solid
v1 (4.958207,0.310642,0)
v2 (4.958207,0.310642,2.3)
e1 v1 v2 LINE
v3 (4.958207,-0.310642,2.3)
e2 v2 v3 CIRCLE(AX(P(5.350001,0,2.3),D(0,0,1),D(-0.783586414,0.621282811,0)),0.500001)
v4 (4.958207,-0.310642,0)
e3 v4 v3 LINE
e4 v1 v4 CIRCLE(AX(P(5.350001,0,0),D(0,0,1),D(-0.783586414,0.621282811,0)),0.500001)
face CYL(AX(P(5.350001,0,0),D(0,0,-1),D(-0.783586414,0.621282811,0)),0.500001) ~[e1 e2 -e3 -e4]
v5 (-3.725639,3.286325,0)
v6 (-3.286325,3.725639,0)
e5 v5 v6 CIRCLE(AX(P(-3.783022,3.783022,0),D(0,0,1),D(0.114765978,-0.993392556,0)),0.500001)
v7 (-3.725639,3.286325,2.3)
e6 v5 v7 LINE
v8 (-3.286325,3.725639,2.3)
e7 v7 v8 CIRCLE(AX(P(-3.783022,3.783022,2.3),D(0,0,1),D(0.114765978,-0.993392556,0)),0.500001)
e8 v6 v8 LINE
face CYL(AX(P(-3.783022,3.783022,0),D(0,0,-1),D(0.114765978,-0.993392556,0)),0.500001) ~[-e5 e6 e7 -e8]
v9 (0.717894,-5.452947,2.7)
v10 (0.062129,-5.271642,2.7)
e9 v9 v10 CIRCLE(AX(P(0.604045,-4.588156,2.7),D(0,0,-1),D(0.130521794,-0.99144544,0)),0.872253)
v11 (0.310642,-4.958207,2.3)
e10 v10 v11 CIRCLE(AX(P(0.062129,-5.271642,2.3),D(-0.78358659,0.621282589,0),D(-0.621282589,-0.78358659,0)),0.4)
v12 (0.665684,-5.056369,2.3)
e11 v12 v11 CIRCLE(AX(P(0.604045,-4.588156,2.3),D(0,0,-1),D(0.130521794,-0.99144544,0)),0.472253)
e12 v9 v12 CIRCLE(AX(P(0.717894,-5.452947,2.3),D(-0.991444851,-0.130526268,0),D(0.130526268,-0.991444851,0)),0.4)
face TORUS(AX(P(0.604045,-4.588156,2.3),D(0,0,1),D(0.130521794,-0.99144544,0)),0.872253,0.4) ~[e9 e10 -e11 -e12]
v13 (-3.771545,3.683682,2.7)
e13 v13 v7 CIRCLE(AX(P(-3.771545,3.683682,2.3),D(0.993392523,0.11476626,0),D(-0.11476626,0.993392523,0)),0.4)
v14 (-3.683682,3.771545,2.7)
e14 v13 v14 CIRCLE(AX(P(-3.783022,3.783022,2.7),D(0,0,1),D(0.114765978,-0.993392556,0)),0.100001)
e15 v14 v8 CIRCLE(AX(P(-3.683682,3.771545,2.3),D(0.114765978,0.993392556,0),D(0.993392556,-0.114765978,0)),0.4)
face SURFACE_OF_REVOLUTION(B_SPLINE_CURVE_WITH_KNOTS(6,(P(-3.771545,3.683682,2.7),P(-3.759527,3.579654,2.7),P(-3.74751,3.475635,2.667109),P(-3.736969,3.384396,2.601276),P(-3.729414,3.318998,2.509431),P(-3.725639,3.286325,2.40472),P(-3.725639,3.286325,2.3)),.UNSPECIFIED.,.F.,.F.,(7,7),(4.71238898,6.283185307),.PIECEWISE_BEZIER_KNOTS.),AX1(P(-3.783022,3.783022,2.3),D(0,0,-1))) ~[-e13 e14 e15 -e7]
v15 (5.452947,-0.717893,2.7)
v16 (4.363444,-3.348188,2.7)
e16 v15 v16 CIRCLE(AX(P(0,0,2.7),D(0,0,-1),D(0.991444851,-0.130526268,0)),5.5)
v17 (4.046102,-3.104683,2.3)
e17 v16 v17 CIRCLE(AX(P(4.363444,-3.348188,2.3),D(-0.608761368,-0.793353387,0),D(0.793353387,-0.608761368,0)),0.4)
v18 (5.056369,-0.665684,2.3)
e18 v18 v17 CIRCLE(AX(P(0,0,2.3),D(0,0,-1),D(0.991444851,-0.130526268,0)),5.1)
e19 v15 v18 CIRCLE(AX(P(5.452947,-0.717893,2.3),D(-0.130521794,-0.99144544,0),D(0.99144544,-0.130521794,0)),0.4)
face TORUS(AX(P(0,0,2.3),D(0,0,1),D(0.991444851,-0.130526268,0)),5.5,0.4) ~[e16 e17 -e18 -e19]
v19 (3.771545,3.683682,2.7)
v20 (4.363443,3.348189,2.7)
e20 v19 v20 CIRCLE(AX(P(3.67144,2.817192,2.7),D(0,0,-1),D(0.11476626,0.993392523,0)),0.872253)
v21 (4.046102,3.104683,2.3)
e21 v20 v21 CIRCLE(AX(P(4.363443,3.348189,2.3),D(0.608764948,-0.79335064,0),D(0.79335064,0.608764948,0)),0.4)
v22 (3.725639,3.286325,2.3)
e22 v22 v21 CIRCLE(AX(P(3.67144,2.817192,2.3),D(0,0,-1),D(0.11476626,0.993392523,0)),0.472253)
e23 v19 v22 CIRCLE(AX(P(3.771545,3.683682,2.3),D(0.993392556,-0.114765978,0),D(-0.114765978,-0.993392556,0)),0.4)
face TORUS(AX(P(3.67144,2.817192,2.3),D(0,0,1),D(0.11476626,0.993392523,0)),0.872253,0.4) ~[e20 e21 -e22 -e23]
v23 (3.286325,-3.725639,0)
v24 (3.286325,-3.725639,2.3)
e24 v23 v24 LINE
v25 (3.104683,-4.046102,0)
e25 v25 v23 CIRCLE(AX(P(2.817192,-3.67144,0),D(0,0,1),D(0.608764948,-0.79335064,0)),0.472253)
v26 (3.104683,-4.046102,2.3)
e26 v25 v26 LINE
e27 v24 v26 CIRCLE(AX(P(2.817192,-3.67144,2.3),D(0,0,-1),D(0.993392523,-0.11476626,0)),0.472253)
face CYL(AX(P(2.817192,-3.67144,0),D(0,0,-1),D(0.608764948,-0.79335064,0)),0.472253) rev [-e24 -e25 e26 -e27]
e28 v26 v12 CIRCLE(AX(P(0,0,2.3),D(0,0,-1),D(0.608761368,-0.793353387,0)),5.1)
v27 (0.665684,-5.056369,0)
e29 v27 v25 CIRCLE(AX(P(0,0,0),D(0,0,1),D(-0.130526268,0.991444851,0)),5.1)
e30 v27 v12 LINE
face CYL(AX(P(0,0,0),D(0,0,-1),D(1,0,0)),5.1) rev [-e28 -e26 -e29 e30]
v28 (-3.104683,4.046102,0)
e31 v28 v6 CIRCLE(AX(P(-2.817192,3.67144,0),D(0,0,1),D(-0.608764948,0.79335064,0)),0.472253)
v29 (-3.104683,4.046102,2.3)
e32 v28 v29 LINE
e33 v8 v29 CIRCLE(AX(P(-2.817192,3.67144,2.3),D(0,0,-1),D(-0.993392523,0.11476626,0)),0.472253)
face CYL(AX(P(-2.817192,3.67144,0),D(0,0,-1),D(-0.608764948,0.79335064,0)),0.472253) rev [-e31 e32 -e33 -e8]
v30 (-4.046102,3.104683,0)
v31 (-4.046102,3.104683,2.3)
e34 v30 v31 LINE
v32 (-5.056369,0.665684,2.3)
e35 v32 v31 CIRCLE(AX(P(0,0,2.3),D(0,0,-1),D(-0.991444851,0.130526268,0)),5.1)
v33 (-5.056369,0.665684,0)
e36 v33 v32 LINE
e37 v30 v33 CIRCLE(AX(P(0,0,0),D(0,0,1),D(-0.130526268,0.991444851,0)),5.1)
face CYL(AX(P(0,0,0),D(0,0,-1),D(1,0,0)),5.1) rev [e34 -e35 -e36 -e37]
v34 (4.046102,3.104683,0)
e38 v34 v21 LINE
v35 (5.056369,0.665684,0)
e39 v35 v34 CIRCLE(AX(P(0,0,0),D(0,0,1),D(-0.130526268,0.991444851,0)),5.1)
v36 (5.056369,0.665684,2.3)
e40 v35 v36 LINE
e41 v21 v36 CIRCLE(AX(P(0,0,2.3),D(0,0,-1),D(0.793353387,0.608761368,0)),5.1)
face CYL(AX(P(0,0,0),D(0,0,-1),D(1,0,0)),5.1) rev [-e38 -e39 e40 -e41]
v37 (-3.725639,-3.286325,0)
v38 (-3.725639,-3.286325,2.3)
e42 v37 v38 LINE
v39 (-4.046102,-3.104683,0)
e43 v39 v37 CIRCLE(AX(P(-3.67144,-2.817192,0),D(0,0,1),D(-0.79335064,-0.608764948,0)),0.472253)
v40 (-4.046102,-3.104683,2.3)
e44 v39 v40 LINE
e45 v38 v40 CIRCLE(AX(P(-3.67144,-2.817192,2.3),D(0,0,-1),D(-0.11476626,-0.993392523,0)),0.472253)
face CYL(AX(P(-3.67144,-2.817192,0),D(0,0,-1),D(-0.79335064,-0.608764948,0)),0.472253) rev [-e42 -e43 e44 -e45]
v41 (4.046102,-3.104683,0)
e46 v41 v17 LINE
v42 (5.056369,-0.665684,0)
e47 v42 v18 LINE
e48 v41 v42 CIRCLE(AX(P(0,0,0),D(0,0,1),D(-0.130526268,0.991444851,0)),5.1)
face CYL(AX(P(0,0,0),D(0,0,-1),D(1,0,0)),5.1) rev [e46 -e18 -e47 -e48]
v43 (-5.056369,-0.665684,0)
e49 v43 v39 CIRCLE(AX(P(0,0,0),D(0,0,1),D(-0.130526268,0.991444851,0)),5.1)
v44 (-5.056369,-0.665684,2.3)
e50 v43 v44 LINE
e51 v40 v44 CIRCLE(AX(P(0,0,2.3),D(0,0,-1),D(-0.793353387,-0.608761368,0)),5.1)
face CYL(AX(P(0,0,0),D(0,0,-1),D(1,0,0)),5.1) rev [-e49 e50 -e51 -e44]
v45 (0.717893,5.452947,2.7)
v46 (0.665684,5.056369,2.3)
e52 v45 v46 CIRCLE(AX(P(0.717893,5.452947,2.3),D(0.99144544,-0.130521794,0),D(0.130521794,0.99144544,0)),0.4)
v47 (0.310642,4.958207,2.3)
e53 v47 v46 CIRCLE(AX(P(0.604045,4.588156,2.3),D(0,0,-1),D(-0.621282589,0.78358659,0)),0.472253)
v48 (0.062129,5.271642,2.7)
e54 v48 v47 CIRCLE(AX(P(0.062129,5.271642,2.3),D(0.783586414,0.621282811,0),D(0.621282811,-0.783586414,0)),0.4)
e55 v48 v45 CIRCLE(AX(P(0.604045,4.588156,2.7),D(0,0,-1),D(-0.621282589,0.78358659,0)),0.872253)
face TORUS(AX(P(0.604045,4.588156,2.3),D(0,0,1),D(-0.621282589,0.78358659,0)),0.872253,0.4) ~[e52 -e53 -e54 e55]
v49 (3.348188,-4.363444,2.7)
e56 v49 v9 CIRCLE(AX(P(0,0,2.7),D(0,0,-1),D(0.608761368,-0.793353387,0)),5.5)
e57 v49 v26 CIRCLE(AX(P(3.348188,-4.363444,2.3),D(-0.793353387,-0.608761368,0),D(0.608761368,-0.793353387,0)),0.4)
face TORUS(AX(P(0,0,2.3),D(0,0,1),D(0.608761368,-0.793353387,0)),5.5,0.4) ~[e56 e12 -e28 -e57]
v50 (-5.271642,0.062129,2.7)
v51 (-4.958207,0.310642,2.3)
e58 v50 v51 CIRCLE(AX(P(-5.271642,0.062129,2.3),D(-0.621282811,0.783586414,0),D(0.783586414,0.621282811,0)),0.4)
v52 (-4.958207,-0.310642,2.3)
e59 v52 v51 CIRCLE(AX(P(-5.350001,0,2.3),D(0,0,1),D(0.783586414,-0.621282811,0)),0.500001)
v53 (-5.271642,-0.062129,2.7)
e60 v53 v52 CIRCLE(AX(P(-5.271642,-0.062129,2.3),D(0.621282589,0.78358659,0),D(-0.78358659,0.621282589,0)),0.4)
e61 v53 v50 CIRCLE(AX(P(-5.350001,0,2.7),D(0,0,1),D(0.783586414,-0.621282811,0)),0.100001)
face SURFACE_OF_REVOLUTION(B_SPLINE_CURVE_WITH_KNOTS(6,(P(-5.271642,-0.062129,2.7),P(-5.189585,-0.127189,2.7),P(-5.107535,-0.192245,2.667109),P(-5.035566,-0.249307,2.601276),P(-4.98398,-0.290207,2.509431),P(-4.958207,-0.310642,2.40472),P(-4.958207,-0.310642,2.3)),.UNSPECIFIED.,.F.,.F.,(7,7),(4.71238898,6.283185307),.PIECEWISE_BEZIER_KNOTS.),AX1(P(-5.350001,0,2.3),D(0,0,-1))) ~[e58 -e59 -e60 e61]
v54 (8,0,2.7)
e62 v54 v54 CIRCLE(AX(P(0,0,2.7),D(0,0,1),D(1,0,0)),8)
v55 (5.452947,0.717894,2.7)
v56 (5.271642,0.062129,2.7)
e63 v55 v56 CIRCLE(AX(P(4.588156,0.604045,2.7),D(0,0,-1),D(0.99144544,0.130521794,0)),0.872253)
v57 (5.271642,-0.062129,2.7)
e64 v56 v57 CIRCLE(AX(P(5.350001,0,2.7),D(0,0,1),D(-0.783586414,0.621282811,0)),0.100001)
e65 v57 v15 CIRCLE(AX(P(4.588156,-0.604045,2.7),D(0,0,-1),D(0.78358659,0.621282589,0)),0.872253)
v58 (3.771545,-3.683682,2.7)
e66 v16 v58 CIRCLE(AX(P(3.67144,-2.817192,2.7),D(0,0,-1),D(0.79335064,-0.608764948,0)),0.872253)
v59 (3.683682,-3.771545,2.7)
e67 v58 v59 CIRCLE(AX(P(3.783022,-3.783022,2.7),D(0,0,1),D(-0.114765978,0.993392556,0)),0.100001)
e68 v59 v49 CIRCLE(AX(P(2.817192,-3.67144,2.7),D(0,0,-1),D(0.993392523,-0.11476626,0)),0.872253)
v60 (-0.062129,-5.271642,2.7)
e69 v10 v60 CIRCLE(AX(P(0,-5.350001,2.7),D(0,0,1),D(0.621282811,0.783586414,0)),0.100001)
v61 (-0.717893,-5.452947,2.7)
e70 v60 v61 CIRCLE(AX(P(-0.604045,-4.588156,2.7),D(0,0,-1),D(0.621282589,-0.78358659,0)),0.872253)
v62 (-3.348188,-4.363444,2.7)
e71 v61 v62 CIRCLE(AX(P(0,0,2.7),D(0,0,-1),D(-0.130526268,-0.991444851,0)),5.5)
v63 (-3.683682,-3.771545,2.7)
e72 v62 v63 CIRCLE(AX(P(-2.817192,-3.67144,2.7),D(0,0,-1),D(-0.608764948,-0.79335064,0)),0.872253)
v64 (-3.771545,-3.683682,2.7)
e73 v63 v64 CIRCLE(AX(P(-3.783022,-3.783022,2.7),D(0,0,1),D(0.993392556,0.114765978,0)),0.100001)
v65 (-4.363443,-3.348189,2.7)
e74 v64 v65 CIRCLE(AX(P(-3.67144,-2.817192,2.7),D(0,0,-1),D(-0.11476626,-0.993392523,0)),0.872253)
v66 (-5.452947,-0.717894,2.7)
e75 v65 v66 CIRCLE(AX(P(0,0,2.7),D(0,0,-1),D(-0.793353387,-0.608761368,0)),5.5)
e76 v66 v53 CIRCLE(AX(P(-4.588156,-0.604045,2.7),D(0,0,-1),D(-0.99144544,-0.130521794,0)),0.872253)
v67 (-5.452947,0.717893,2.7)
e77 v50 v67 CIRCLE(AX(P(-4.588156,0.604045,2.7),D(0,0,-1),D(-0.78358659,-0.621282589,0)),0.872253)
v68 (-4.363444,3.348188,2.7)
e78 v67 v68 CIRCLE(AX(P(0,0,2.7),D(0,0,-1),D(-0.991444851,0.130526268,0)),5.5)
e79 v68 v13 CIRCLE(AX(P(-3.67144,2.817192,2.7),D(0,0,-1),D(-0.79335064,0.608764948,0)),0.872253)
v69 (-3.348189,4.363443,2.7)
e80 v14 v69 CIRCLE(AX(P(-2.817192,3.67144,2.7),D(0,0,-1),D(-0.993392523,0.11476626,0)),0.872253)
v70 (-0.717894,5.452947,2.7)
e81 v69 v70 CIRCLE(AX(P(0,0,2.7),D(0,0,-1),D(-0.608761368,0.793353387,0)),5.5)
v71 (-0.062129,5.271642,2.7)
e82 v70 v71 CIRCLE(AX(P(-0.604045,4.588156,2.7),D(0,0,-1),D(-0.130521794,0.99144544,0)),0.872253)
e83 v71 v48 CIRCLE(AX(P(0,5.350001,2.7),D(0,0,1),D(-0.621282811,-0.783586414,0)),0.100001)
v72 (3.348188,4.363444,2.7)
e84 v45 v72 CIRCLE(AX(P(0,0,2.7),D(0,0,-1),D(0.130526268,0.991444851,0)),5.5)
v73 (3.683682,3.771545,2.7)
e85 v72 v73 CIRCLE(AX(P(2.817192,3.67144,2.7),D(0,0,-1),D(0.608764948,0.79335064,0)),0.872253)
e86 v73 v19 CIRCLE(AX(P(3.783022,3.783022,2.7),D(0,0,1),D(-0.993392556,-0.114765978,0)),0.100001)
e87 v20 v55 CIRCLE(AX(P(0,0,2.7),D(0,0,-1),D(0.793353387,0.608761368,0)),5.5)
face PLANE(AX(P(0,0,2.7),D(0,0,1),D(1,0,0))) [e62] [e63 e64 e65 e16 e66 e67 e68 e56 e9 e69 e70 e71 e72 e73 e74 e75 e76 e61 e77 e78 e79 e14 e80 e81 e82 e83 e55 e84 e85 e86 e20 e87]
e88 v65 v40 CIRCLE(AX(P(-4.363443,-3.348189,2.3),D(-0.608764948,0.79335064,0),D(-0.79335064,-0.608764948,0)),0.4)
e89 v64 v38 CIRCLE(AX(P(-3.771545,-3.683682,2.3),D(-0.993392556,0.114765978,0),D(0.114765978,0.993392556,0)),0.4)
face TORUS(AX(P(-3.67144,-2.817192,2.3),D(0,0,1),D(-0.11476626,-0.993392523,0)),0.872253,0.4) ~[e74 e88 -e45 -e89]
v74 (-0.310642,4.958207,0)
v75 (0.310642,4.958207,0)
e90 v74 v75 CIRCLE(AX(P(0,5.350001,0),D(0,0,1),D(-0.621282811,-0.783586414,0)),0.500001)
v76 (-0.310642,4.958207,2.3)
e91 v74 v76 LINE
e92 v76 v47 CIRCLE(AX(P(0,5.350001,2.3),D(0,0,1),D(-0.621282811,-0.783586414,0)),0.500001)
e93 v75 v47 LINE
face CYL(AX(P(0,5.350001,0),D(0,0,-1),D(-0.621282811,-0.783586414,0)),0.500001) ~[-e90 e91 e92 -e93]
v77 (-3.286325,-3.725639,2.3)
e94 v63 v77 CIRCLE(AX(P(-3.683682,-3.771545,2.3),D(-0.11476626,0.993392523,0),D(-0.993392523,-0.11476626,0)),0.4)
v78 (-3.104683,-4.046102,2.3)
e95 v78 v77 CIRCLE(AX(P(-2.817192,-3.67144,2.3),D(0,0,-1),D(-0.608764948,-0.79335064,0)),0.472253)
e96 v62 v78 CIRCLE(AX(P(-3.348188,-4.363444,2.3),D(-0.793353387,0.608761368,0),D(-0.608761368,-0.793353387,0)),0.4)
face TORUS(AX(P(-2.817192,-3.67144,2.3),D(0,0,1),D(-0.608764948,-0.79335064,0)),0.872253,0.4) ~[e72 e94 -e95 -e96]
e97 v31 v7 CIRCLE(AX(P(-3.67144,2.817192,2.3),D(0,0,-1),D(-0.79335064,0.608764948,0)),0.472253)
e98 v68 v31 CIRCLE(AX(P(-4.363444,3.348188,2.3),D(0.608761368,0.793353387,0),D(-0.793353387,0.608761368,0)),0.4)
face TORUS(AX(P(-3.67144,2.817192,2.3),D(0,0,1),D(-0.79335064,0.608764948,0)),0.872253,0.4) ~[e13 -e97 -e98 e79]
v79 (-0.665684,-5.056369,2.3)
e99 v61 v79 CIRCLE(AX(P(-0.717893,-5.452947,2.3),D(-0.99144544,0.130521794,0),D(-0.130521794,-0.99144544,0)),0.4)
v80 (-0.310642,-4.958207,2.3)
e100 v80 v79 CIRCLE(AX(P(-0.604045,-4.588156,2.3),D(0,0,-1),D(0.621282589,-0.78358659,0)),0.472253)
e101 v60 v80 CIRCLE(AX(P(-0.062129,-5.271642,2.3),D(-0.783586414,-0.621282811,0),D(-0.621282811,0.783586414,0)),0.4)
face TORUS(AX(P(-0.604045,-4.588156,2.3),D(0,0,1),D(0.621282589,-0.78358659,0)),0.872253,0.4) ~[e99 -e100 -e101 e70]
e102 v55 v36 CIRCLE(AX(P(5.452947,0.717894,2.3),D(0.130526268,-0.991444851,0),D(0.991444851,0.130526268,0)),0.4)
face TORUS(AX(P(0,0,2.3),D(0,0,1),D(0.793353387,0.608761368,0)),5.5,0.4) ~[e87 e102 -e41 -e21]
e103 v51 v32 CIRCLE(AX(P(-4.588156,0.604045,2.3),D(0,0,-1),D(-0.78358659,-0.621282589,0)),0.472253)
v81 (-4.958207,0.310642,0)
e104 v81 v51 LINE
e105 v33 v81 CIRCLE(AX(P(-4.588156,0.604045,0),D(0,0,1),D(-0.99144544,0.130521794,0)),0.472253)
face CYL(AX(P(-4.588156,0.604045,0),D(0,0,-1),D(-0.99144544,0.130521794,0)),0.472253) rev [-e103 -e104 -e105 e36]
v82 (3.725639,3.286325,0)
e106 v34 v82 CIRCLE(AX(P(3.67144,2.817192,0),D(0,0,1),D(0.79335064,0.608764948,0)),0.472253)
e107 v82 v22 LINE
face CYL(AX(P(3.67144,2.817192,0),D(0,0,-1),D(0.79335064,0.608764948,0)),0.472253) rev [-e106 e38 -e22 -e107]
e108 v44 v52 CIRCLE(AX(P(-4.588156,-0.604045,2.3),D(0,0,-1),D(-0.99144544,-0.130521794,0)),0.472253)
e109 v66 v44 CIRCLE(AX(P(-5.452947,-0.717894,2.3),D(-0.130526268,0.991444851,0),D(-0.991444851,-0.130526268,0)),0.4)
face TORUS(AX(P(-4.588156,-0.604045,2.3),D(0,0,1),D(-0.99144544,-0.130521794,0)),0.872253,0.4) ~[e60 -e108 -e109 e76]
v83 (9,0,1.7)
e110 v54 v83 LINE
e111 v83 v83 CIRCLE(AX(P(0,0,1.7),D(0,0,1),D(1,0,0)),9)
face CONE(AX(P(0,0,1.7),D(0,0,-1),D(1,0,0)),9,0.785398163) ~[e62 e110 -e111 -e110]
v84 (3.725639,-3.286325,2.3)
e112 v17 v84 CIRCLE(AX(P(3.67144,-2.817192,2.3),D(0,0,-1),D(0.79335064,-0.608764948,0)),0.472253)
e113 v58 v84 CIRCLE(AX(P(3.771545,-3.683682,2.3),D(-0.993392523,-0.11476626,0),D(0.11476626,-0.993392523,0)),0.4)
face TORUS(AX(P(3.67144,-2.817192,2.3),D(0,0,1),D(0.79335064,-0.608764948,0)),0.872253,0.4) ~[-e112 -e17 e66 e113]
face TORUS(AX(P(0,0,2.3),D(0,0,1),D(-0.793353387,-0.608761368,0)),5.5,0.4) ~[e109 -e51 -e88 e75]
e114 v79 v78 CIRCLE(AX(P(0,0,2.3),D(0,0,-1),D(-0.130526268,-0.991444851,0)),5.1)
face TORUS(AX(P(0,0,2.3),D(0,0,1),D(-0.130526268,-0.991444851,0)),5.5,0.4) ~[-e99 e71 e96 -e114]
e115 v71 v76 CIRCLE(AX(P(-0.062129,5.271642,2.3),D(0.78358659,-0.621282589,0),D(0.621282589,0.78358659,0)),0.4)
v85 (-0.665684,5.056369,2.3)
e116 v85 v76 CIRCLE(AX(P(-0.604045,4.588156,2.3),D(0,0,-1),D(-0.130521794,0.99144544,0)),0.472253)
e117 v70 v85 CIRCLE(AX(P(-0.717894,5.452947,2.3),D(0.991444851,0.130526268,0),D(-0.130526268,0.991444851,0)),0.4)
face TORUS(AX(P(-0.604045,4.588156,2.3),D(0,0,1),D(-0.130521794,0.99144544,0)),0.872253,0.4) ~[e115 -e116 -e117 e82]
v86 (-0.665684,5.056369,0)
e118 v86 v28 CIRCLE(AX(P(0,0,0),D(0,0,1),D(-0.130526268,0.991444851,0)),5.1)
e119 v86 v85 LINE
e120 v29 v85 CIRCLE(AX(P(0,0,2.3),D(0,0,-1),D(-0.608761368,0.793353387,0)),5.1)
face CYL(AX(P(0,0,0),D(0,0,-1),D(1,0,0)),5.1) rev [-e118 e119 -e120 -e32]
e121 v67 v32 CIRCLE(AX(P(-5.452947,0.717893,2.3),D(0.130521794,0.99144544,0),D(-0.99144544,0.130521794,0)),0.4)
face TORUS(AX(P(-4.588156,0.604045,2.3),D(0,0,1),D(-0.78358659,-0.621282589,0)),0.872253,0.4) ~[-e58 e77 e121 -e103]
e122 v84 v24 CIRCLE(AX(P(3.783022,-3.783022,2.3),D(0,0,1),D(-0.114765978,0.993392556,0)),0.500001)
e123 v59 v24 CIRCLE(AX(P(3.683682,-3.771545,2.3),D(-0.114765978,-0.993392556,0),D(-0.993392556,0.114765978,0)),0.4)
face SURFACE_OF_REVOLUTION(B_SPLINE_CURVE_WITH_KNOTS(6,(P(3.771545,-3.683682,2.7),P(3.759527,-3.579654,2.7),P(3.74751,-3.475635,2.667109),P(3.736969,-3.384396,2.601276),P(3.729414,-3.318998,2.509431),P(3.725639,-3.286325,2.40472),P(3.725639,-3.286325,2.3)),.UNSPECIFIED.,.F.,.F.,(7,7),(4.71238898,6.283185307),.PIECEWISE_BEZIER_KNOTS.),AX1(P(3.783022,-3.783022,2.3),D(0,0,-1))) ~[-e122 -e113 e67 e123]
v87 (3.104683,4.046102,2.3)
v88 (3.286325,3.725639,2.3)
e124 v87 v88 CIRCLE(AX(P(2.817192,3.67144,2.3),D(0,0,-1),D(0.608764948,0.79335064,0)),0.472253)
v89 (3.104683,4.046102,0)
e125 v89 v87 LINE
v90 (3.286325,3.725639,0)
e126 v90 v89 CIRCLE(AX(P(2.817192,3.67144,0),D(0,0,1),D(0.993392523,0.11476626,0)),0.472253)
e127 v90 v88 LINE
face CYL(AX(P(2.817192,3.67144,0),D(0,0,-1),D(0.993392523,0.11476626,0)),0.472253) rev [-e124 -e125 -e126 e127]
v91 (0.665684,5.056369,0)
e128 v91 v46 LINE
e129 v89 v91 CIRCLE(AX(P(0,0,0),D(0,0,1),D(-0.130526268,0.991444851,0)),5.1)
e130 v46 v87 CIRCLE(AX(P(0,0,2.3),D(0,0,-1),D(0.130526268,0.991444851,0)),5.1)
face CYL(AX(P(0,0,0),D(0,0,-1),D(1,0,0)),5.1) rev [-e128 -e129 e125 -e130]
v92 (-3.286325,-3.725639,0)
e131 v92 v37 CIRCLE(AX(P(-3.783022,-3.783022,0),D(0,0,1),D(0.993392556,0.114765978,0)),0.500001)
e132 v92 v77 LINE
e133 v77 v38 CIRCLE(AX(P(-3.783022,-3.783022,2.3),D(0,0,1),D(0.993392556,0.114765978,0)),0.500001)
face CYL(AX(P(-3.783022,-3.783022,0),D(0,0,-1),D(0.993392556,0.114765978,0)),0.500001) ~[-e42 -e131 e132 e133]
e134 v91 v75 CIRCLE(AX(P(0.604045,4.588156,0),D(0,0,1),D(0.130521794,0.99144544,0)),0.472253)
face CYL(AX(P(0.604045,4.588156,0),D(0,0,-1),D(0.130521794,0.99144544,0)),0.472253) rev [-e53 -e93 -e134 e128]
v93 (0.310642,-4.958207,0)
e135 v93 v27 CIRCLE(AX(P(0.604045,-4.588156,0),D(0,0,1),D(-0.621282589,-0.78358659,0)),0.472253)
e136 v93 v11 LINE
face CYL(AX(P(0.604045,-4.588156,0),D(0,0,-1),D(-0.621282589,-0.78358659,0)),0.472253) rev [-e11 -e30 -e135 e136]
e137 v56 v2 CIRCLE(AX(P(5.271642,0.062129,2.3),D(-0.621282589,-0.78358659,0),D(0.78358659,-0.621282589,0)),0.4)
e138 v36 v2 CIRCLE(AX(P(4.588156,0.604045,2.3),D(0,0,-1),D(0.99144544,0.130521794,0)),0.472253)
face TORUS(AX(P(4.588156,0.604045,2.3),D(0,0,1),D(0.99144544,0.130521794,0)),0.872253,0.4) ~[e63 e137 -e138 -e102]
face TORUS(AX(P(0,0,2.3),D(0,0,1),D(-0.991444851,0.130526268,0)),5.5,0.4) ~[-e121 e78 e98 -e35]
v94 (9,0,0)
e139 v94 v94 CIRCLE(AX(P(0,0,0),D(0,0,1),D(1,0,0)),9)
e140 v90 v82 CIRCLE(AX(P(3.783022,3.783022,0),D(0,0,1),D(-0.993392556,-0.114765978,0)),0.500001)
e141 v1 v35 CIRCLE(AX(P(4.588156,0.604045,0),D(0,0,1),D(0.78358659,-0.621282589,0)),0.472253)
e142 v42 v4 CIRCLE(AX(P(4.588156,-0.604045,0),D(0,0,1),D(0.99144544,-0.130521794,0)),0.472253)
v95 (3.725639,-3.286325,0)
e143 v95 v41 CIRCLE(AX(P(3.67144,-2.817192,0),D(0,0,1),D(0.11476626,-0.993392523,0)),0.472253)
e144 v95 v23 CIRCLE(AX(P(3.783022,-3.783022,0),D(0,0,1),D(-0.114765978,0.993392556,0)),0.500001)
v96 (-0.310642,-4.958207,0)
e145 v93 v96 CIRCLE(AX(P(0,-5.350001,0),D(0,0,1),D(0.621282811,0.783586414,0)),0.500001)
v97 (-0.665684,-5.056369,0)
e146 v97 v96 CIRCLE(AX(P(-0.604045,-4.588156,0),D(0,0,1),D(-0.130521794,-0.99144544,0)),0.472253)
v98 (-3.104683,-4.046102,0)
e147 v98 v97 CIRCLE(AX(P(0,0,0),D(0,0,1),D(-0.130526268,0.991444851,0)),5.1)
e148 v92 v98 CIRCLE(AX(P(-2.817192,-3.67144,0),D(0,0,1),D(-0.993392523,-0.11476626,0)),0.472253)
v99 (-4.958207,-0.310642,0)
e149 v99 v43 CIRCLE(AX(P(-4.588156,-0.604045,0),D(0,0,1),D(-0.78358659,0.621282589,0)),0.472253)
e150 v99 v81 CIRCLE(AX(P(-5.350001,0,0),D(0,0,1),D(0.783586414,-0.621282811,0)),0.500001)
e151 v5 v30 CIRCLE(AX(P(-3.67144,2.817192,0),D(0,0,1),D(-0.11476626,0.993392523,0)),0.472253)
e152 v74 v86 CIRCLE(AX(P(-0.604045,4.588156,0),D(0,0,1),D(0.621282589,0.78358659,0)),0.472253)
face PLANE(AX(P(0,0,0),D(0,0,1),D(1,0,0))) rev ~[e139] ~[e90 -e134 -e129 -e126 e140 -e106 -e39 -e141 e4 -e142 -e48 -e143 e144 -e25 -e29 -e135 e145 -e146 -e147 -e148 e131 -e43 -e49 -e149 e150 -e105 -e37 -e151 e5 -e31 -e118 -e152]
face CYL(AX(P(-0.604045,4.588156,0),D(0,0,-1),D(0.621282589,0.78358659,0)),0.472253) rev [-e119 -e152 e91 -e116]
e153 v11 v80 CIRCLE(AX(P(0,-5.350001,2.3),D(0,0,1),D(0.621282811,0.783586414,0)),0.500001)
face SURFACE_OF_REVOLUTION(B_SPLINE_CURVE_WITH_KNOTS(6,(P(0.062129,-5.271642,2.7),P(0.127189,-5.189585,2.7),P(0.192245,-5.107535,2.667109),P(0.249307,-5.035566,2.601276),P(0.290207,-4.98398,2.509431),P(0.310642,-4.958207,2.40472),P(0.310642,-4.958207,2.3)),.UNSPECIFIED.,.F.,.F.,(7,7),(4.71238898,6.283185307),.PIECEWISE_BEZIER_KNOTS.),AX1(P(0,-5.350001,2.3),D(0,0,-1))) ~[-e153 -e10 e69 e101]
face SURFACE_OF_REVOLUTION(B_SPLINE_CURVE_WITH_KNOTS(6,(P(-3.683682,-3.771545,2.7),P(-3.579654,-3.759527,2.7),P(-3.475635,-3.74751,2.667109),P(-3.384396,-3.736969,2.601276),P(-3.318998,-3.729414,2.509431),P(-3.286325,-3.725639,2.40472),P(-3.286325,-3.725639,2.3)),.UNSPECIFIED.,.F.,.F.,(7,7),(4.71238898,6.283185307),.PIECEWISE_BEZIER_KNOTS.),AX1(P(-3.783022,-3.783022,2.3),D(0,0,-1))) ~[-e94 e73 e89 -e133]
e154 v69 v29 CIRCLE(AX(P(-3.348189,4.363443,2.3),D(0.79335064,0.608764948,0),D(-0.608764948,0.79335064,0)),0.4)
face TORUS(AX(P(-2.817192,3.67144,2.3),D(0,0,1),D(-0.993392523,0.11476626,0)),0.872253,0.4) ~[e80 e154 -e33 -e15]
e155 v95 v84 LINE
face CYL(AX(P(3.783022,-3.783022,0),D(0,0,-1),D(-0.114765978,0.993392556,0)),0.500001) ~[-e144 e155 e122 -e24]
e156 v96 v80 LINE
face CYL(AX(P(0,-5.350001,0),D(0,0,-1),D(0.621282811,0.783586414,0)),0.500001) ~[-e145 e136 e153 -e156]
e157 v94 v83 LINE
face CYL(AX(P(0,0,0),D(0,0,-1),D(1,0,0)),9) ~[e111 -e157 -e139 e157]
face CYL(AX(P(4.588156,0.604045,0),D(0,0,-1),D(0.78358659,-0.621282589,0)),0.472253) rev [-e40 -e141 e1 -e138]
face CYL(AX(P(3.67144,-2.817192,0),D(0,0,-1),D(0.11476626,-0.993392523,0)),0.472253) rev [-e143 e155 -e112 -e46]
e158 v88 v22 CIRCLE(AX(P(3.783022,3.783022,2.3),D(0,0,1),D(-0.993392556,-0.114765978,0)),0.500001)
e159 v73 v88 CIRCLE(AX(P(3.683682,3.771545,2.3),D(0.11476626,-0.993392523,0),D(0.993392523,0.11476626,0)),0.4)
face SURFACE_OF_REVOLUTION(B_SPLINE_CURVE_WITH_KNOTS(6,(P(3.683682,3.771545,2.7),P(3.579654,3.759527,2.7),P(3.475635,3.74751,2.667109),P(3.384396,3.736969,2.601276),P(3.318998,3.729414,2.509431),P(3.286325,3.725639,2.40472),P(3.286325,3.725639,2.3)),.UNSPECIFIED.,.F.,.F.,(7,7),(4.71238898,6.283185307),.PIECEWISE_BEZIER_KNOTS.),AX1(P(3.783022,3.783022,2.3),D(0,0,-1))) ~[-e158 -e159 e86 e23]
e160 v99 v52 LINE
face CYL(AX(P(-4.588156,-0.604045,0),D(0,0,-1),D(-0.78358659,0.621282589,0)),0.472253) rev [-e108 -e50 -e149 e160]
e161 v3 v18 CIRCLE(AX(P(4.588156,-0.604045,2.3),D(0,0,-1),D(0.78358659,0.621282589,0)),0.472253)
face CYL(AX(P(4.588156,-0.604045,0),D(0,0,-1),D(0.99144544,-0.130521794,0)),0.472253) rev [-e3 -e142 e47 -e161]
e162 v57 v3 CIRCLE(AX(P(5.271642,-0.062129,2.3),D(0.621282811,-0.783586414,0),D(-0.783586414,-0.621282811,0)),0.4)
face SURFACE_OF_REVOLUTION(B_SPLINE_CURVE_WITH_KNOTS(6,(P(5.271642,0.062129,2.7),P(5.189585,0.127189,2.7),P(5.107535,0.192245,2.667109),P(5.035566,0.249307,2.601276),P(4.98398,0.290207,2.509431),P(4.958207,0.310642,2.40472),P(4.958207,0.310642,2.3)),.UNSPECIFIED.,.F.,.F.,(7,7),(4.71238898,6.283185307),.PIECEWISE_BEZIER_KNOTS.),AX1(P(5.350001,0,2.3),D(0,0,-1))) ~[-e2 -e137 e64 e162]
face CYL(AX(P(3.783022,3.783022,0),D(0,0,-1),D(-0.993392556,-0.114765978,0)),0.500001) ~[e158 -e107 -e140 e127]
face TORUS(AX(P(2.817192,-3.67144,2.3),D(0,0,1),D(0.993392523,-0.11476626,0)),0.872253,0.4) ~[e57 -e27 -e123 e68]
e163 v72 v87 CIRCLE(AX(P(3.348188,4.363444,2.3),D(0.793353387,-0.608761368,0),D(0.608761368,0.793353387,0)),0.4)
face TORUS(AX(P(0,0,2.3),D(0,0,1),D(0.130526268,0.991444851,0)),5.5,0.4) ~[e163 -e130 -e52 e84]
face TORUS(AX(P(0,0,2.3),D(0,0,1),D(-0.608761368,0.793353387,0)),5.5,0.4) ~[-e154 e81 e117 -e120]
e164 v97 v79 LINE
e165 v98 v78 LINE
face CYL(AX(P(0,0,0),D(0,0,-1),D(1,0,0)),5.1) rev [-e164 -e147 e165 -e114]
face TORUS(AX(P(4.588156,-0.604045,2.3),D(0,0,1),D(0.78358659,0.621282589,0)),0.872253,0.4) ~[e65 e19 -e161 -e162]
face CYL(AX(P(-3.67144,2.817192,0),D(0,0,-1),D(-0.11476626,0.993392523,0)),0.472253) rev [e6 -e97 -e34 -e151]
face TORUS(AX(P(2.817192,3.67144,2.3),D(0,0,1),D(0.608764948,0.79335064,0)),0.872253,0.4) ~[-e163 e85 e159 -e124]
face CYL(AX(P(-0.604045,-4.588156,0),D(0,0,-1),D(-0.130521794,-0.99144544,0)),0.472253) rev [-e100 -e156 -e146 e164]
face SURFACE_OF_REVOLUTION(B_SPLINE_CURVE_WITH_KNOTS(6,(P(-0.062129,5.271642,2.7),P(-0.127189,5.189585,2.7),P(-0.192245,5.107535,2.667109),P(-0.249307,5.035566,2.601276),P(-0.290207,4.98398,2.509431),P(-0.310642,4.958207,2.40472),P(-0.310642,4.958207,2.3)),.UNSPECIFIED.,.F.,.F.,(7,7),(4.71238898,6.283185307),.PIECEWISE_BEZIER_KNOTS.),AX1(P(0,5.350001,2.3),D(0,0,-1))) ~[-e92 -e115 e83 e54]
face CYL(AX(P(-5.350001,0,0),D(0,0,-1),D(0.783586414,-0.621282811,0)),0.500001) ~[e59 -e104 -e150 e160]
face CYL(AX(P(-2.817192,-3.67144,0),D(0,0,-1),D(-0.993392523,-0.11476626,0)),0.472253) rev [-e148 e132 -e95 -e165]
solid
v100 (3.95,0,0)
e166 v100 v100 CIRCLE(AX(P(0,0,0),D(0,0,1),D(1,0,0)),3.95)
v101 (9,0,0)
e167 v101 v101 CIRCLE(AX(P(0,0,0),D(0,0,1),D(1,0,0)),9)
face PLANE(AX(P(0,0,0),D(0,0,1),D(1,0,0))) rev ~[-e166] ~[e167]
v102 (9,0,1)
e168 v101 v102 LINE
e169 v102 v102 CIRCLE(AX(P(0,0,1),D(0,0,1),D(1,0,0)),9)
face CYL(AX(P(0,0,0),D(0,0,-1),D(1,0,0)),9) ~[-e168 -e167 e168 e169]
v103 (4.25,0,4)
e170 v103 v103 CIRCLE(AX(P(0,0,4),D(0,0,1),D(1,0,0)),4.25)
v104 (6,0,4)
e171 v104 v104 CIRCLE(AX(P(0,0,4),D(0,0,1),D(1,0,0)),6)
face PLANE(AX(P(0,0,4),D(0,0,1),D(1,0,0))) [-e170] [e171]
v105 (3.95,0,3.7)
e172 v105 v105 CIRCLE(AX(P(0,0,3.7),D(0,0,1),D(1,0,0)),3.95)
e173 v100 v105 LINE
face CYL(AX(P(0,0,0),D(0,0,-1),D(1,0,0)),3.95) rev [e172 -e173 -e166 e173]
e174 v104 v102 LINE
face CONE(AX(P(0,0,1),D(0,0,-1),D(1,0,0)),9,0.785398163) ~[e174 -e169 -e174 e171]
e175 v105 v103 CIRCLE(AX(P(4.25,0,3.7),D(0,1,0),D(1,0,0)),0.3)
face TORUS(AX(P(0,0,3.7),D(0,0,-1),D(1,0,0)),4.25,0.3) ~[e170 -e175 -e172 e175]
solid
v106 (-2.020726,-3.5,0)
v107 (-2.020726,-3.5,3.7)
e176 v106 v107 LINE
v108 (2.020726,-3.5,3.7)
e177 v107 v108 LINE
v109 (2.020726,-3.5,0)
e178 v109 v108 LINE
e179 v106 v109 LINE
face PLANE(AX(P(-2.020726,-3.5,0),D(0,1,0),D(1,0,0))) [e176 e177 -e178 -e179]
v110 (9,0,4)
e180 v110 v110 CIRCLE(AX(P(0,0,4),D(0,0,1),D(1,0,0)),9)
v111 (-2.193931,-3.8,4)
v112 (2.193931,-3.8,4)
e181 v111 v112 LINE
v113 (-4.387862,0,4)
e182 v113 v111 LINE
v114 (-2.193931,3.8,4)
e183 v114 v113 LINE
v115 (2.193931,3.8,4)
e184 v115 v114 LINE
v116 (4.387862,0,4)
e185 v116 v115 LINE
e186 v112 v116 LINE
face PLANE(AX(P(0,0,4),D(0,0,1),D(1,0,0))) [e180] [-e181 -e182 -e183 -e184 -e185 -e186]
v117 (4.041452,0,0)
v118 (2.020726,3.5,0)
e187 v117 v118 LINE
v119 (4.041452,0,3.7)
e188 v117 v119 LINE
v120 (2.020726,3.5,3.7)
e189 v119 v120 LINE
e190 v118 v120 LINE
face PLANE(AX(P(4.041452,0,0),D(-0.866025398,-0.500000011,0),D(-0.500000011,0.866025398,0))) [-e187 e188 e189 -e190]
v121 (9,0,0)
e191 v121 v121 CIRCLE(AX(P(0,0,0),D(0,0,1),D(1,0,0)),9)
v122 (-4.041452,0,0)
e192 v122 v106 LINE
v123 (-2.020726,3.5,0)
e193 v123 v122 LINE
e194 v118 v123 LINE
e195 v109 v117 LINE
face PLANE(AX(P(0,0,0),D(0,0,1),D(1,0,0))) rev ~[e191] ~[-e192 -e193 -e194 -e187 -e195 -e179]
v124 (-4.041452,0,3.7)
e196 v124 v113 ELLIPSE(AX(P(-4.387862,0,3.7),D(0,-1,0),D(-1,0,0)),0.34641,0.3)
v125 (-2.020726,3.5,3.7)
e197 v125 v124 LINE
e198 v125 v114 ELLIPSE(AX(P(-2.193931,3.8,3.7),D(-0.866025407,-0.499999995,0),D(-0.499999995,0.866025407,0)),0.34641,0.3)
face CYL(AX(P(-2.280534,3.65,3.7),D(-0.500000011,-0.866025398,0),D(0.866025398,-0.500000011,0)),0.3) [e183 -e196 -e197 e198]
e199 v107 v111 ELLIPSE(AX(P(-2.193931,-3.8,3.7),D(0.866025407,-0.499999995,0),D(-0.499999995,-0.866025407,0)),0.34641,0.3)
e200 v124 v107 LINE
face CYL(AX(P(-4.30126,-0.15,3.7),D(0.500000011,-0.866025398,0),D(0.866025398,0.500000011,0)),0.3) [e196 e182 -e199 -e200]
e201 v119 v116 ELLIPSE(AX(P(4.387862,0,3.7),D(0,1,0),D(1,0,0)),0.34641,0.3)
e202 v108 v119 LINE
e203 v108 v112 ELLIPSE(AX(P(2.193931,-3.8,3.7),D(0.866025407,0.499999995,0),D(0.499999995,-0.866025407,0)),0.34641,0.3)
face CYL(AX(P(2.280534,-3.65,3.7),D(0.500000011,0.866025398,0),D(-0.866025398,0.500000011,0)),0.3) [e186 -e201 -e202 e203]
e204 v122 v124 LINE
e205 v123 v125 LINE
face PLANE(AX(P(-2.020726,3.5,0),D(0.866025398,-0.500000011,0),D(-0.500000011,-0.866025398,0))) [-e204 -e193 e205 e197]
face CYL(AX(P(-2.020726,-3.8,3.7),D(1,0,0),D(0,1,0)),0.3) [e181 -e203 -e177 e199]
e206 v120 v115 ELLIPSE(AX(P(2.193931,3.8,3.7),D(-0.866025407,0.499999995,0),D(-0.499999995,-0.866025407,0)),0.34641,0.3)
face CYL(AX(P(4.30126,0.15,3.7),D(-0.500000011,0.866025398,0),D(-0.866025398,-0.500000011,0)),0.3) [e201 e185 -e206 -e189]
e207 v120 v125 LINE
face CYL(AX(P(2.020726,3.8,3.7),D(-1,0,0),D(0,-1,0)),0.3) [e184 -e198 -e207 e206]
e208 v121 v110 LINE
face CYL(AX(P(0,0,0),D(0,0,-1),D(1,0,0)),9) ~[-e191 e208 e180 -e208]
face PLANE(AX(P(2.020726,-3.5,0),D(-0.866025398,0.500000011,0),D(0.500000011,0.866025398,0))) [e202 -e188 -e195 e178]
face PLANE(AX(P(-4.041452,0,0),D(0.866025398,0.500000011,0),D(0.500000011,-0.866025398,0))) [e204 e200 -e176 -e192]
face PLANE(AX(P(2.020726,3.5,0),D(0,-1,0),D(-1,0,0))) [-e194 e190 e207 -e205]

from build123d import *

# Parameters (mm, degrees)
SKETCH_R           = 9
PAD_DEPTH          = 4
FILLET_R           = 0.3
SKETCH001_R        = 9
SKETCH001_R_2      = 5.1
PAD001_DEPTH       = 2.7
PAD002_DEPTH       = 2.7
POLARPATTERN_COUNT = 8
FILLET001_R        = 0.4
CHAMFER_SIZE       = 1
SKETCH003_R        = 9
SKETCH003_R_2      = 3.95
PAD003_DEPTH       = 4
FILLET002_R        = 0.3
CHAMFER001_SIZE    = 3


with BuildPart() as bare:
    # Sketch → Pad (new body)
    with BuildSketch(Plane.XY):
        Circle(SKETCH_R)
        Polygon((2.020726, -3.5), (4.041452, 0), (2.020726, 3.5), (-2.020726, 3.5), (-4.041452, 0), (-2.020726, -3.5), align=None, mode=Mode.SUBTRACT)
    extrude(amount=PAD_DEPTH)

    # Fillet
    fillet_edges = [bare.edges().sort_by_distance(p)[0] for p in [
        (0, 3.5, 4),
        (-3.031089, 1.75, 4),
        (-3.031089, -1.75, 4),
        (0, -3.5, 4),
        (3.031089, -1.75, 4),
        (3.031089, 1.75, 4),
    ]]
    fillet(fillet_edges, radius=FILLET_R)


with BuildPart() as v5cover:
    # Sketch001 → Pad001 (new body)
    with BuildSketch(Plane.XY):
        Circle(SKETCH001_R)
        Circle(SKETCH001_R_2, mode=Mode.SUBTRACT)
    extrude(amount=PAD001_DEPTH)

    # Sketch002 → Pad002 (join)
    with BuildSketch(Plane.XY):
        with BuildLine():
            ThreePointArc((-0.310642, 4.958207), (0, 4.85), (0.310642, 4.958207))
            ThreePointArc((0.665684, 5.056369), (0.478197, 5.043332), (0.310642, 4.958207))
            ThreePointArc((0.665684, 5.056369), (0, 5.1), (-0.665684, 5.056369))
            ThreePointArc((-0.310642, 4.958207), (-0.478197, 5.043332), (-0.665684, 5.056369))
        make_face()
    pad002 = extrude(amount=PAD002_DEPTH)

    # PolarPattern: Pad002 ×8 about axis
    polarpattern_axis = Axis((0, 0, 0), (0, 0, 1))
    for i in range(1, POLARPATTERN_COUNT):
        add(pad002.rotate(polarpattern_axis, i * 360 / POLARPATTERN_COUNT))

    # Fillet001
    fillet001_edges = [v5cover.edges().sort_by_distance(p)[0] for p in [
        (1.951686, -4.711786, 2.7),
    ]]
    fillet(fillet001_edges, radius=FILLET001_R)

    # Chamfer
    chamfer_edges = [v5cover.edges().sort_by_distance(p)[0] for p in [
        (-9, 0, 2.7),
    ]]
    chamfer(chamfer_edges, length=CHAMFER_SIZE)


with BuildPart() as round:
    # Sketch003 → Pad003 (new body)
    with BuildSketch(Plane.XY):
        Circle(SKETCH003_R)
        Circle(SKETCH003_R_2, mode=Mode.SUBTRACT)
    extrude(amount=PAD003_DEPTH)

    # Fillet002
    fillet002_edges = [round.edges().sort_by_distance(p)[0] for p in [
        (-3.95, 0, 4),
    ]]
    fillet(fillet002_edges, radius=FILLET002_R)

    # Chamfer001
    chamfer001_edges = [round.edges().sort_by_distance(p)[0] for p in [
        (-9, 0, 4),
    ]]
    chamfer(chamfer001_edges, length=CHAMFER001_SIZE)


solid = Compound([bare.part, v5cover.part, round.part])
